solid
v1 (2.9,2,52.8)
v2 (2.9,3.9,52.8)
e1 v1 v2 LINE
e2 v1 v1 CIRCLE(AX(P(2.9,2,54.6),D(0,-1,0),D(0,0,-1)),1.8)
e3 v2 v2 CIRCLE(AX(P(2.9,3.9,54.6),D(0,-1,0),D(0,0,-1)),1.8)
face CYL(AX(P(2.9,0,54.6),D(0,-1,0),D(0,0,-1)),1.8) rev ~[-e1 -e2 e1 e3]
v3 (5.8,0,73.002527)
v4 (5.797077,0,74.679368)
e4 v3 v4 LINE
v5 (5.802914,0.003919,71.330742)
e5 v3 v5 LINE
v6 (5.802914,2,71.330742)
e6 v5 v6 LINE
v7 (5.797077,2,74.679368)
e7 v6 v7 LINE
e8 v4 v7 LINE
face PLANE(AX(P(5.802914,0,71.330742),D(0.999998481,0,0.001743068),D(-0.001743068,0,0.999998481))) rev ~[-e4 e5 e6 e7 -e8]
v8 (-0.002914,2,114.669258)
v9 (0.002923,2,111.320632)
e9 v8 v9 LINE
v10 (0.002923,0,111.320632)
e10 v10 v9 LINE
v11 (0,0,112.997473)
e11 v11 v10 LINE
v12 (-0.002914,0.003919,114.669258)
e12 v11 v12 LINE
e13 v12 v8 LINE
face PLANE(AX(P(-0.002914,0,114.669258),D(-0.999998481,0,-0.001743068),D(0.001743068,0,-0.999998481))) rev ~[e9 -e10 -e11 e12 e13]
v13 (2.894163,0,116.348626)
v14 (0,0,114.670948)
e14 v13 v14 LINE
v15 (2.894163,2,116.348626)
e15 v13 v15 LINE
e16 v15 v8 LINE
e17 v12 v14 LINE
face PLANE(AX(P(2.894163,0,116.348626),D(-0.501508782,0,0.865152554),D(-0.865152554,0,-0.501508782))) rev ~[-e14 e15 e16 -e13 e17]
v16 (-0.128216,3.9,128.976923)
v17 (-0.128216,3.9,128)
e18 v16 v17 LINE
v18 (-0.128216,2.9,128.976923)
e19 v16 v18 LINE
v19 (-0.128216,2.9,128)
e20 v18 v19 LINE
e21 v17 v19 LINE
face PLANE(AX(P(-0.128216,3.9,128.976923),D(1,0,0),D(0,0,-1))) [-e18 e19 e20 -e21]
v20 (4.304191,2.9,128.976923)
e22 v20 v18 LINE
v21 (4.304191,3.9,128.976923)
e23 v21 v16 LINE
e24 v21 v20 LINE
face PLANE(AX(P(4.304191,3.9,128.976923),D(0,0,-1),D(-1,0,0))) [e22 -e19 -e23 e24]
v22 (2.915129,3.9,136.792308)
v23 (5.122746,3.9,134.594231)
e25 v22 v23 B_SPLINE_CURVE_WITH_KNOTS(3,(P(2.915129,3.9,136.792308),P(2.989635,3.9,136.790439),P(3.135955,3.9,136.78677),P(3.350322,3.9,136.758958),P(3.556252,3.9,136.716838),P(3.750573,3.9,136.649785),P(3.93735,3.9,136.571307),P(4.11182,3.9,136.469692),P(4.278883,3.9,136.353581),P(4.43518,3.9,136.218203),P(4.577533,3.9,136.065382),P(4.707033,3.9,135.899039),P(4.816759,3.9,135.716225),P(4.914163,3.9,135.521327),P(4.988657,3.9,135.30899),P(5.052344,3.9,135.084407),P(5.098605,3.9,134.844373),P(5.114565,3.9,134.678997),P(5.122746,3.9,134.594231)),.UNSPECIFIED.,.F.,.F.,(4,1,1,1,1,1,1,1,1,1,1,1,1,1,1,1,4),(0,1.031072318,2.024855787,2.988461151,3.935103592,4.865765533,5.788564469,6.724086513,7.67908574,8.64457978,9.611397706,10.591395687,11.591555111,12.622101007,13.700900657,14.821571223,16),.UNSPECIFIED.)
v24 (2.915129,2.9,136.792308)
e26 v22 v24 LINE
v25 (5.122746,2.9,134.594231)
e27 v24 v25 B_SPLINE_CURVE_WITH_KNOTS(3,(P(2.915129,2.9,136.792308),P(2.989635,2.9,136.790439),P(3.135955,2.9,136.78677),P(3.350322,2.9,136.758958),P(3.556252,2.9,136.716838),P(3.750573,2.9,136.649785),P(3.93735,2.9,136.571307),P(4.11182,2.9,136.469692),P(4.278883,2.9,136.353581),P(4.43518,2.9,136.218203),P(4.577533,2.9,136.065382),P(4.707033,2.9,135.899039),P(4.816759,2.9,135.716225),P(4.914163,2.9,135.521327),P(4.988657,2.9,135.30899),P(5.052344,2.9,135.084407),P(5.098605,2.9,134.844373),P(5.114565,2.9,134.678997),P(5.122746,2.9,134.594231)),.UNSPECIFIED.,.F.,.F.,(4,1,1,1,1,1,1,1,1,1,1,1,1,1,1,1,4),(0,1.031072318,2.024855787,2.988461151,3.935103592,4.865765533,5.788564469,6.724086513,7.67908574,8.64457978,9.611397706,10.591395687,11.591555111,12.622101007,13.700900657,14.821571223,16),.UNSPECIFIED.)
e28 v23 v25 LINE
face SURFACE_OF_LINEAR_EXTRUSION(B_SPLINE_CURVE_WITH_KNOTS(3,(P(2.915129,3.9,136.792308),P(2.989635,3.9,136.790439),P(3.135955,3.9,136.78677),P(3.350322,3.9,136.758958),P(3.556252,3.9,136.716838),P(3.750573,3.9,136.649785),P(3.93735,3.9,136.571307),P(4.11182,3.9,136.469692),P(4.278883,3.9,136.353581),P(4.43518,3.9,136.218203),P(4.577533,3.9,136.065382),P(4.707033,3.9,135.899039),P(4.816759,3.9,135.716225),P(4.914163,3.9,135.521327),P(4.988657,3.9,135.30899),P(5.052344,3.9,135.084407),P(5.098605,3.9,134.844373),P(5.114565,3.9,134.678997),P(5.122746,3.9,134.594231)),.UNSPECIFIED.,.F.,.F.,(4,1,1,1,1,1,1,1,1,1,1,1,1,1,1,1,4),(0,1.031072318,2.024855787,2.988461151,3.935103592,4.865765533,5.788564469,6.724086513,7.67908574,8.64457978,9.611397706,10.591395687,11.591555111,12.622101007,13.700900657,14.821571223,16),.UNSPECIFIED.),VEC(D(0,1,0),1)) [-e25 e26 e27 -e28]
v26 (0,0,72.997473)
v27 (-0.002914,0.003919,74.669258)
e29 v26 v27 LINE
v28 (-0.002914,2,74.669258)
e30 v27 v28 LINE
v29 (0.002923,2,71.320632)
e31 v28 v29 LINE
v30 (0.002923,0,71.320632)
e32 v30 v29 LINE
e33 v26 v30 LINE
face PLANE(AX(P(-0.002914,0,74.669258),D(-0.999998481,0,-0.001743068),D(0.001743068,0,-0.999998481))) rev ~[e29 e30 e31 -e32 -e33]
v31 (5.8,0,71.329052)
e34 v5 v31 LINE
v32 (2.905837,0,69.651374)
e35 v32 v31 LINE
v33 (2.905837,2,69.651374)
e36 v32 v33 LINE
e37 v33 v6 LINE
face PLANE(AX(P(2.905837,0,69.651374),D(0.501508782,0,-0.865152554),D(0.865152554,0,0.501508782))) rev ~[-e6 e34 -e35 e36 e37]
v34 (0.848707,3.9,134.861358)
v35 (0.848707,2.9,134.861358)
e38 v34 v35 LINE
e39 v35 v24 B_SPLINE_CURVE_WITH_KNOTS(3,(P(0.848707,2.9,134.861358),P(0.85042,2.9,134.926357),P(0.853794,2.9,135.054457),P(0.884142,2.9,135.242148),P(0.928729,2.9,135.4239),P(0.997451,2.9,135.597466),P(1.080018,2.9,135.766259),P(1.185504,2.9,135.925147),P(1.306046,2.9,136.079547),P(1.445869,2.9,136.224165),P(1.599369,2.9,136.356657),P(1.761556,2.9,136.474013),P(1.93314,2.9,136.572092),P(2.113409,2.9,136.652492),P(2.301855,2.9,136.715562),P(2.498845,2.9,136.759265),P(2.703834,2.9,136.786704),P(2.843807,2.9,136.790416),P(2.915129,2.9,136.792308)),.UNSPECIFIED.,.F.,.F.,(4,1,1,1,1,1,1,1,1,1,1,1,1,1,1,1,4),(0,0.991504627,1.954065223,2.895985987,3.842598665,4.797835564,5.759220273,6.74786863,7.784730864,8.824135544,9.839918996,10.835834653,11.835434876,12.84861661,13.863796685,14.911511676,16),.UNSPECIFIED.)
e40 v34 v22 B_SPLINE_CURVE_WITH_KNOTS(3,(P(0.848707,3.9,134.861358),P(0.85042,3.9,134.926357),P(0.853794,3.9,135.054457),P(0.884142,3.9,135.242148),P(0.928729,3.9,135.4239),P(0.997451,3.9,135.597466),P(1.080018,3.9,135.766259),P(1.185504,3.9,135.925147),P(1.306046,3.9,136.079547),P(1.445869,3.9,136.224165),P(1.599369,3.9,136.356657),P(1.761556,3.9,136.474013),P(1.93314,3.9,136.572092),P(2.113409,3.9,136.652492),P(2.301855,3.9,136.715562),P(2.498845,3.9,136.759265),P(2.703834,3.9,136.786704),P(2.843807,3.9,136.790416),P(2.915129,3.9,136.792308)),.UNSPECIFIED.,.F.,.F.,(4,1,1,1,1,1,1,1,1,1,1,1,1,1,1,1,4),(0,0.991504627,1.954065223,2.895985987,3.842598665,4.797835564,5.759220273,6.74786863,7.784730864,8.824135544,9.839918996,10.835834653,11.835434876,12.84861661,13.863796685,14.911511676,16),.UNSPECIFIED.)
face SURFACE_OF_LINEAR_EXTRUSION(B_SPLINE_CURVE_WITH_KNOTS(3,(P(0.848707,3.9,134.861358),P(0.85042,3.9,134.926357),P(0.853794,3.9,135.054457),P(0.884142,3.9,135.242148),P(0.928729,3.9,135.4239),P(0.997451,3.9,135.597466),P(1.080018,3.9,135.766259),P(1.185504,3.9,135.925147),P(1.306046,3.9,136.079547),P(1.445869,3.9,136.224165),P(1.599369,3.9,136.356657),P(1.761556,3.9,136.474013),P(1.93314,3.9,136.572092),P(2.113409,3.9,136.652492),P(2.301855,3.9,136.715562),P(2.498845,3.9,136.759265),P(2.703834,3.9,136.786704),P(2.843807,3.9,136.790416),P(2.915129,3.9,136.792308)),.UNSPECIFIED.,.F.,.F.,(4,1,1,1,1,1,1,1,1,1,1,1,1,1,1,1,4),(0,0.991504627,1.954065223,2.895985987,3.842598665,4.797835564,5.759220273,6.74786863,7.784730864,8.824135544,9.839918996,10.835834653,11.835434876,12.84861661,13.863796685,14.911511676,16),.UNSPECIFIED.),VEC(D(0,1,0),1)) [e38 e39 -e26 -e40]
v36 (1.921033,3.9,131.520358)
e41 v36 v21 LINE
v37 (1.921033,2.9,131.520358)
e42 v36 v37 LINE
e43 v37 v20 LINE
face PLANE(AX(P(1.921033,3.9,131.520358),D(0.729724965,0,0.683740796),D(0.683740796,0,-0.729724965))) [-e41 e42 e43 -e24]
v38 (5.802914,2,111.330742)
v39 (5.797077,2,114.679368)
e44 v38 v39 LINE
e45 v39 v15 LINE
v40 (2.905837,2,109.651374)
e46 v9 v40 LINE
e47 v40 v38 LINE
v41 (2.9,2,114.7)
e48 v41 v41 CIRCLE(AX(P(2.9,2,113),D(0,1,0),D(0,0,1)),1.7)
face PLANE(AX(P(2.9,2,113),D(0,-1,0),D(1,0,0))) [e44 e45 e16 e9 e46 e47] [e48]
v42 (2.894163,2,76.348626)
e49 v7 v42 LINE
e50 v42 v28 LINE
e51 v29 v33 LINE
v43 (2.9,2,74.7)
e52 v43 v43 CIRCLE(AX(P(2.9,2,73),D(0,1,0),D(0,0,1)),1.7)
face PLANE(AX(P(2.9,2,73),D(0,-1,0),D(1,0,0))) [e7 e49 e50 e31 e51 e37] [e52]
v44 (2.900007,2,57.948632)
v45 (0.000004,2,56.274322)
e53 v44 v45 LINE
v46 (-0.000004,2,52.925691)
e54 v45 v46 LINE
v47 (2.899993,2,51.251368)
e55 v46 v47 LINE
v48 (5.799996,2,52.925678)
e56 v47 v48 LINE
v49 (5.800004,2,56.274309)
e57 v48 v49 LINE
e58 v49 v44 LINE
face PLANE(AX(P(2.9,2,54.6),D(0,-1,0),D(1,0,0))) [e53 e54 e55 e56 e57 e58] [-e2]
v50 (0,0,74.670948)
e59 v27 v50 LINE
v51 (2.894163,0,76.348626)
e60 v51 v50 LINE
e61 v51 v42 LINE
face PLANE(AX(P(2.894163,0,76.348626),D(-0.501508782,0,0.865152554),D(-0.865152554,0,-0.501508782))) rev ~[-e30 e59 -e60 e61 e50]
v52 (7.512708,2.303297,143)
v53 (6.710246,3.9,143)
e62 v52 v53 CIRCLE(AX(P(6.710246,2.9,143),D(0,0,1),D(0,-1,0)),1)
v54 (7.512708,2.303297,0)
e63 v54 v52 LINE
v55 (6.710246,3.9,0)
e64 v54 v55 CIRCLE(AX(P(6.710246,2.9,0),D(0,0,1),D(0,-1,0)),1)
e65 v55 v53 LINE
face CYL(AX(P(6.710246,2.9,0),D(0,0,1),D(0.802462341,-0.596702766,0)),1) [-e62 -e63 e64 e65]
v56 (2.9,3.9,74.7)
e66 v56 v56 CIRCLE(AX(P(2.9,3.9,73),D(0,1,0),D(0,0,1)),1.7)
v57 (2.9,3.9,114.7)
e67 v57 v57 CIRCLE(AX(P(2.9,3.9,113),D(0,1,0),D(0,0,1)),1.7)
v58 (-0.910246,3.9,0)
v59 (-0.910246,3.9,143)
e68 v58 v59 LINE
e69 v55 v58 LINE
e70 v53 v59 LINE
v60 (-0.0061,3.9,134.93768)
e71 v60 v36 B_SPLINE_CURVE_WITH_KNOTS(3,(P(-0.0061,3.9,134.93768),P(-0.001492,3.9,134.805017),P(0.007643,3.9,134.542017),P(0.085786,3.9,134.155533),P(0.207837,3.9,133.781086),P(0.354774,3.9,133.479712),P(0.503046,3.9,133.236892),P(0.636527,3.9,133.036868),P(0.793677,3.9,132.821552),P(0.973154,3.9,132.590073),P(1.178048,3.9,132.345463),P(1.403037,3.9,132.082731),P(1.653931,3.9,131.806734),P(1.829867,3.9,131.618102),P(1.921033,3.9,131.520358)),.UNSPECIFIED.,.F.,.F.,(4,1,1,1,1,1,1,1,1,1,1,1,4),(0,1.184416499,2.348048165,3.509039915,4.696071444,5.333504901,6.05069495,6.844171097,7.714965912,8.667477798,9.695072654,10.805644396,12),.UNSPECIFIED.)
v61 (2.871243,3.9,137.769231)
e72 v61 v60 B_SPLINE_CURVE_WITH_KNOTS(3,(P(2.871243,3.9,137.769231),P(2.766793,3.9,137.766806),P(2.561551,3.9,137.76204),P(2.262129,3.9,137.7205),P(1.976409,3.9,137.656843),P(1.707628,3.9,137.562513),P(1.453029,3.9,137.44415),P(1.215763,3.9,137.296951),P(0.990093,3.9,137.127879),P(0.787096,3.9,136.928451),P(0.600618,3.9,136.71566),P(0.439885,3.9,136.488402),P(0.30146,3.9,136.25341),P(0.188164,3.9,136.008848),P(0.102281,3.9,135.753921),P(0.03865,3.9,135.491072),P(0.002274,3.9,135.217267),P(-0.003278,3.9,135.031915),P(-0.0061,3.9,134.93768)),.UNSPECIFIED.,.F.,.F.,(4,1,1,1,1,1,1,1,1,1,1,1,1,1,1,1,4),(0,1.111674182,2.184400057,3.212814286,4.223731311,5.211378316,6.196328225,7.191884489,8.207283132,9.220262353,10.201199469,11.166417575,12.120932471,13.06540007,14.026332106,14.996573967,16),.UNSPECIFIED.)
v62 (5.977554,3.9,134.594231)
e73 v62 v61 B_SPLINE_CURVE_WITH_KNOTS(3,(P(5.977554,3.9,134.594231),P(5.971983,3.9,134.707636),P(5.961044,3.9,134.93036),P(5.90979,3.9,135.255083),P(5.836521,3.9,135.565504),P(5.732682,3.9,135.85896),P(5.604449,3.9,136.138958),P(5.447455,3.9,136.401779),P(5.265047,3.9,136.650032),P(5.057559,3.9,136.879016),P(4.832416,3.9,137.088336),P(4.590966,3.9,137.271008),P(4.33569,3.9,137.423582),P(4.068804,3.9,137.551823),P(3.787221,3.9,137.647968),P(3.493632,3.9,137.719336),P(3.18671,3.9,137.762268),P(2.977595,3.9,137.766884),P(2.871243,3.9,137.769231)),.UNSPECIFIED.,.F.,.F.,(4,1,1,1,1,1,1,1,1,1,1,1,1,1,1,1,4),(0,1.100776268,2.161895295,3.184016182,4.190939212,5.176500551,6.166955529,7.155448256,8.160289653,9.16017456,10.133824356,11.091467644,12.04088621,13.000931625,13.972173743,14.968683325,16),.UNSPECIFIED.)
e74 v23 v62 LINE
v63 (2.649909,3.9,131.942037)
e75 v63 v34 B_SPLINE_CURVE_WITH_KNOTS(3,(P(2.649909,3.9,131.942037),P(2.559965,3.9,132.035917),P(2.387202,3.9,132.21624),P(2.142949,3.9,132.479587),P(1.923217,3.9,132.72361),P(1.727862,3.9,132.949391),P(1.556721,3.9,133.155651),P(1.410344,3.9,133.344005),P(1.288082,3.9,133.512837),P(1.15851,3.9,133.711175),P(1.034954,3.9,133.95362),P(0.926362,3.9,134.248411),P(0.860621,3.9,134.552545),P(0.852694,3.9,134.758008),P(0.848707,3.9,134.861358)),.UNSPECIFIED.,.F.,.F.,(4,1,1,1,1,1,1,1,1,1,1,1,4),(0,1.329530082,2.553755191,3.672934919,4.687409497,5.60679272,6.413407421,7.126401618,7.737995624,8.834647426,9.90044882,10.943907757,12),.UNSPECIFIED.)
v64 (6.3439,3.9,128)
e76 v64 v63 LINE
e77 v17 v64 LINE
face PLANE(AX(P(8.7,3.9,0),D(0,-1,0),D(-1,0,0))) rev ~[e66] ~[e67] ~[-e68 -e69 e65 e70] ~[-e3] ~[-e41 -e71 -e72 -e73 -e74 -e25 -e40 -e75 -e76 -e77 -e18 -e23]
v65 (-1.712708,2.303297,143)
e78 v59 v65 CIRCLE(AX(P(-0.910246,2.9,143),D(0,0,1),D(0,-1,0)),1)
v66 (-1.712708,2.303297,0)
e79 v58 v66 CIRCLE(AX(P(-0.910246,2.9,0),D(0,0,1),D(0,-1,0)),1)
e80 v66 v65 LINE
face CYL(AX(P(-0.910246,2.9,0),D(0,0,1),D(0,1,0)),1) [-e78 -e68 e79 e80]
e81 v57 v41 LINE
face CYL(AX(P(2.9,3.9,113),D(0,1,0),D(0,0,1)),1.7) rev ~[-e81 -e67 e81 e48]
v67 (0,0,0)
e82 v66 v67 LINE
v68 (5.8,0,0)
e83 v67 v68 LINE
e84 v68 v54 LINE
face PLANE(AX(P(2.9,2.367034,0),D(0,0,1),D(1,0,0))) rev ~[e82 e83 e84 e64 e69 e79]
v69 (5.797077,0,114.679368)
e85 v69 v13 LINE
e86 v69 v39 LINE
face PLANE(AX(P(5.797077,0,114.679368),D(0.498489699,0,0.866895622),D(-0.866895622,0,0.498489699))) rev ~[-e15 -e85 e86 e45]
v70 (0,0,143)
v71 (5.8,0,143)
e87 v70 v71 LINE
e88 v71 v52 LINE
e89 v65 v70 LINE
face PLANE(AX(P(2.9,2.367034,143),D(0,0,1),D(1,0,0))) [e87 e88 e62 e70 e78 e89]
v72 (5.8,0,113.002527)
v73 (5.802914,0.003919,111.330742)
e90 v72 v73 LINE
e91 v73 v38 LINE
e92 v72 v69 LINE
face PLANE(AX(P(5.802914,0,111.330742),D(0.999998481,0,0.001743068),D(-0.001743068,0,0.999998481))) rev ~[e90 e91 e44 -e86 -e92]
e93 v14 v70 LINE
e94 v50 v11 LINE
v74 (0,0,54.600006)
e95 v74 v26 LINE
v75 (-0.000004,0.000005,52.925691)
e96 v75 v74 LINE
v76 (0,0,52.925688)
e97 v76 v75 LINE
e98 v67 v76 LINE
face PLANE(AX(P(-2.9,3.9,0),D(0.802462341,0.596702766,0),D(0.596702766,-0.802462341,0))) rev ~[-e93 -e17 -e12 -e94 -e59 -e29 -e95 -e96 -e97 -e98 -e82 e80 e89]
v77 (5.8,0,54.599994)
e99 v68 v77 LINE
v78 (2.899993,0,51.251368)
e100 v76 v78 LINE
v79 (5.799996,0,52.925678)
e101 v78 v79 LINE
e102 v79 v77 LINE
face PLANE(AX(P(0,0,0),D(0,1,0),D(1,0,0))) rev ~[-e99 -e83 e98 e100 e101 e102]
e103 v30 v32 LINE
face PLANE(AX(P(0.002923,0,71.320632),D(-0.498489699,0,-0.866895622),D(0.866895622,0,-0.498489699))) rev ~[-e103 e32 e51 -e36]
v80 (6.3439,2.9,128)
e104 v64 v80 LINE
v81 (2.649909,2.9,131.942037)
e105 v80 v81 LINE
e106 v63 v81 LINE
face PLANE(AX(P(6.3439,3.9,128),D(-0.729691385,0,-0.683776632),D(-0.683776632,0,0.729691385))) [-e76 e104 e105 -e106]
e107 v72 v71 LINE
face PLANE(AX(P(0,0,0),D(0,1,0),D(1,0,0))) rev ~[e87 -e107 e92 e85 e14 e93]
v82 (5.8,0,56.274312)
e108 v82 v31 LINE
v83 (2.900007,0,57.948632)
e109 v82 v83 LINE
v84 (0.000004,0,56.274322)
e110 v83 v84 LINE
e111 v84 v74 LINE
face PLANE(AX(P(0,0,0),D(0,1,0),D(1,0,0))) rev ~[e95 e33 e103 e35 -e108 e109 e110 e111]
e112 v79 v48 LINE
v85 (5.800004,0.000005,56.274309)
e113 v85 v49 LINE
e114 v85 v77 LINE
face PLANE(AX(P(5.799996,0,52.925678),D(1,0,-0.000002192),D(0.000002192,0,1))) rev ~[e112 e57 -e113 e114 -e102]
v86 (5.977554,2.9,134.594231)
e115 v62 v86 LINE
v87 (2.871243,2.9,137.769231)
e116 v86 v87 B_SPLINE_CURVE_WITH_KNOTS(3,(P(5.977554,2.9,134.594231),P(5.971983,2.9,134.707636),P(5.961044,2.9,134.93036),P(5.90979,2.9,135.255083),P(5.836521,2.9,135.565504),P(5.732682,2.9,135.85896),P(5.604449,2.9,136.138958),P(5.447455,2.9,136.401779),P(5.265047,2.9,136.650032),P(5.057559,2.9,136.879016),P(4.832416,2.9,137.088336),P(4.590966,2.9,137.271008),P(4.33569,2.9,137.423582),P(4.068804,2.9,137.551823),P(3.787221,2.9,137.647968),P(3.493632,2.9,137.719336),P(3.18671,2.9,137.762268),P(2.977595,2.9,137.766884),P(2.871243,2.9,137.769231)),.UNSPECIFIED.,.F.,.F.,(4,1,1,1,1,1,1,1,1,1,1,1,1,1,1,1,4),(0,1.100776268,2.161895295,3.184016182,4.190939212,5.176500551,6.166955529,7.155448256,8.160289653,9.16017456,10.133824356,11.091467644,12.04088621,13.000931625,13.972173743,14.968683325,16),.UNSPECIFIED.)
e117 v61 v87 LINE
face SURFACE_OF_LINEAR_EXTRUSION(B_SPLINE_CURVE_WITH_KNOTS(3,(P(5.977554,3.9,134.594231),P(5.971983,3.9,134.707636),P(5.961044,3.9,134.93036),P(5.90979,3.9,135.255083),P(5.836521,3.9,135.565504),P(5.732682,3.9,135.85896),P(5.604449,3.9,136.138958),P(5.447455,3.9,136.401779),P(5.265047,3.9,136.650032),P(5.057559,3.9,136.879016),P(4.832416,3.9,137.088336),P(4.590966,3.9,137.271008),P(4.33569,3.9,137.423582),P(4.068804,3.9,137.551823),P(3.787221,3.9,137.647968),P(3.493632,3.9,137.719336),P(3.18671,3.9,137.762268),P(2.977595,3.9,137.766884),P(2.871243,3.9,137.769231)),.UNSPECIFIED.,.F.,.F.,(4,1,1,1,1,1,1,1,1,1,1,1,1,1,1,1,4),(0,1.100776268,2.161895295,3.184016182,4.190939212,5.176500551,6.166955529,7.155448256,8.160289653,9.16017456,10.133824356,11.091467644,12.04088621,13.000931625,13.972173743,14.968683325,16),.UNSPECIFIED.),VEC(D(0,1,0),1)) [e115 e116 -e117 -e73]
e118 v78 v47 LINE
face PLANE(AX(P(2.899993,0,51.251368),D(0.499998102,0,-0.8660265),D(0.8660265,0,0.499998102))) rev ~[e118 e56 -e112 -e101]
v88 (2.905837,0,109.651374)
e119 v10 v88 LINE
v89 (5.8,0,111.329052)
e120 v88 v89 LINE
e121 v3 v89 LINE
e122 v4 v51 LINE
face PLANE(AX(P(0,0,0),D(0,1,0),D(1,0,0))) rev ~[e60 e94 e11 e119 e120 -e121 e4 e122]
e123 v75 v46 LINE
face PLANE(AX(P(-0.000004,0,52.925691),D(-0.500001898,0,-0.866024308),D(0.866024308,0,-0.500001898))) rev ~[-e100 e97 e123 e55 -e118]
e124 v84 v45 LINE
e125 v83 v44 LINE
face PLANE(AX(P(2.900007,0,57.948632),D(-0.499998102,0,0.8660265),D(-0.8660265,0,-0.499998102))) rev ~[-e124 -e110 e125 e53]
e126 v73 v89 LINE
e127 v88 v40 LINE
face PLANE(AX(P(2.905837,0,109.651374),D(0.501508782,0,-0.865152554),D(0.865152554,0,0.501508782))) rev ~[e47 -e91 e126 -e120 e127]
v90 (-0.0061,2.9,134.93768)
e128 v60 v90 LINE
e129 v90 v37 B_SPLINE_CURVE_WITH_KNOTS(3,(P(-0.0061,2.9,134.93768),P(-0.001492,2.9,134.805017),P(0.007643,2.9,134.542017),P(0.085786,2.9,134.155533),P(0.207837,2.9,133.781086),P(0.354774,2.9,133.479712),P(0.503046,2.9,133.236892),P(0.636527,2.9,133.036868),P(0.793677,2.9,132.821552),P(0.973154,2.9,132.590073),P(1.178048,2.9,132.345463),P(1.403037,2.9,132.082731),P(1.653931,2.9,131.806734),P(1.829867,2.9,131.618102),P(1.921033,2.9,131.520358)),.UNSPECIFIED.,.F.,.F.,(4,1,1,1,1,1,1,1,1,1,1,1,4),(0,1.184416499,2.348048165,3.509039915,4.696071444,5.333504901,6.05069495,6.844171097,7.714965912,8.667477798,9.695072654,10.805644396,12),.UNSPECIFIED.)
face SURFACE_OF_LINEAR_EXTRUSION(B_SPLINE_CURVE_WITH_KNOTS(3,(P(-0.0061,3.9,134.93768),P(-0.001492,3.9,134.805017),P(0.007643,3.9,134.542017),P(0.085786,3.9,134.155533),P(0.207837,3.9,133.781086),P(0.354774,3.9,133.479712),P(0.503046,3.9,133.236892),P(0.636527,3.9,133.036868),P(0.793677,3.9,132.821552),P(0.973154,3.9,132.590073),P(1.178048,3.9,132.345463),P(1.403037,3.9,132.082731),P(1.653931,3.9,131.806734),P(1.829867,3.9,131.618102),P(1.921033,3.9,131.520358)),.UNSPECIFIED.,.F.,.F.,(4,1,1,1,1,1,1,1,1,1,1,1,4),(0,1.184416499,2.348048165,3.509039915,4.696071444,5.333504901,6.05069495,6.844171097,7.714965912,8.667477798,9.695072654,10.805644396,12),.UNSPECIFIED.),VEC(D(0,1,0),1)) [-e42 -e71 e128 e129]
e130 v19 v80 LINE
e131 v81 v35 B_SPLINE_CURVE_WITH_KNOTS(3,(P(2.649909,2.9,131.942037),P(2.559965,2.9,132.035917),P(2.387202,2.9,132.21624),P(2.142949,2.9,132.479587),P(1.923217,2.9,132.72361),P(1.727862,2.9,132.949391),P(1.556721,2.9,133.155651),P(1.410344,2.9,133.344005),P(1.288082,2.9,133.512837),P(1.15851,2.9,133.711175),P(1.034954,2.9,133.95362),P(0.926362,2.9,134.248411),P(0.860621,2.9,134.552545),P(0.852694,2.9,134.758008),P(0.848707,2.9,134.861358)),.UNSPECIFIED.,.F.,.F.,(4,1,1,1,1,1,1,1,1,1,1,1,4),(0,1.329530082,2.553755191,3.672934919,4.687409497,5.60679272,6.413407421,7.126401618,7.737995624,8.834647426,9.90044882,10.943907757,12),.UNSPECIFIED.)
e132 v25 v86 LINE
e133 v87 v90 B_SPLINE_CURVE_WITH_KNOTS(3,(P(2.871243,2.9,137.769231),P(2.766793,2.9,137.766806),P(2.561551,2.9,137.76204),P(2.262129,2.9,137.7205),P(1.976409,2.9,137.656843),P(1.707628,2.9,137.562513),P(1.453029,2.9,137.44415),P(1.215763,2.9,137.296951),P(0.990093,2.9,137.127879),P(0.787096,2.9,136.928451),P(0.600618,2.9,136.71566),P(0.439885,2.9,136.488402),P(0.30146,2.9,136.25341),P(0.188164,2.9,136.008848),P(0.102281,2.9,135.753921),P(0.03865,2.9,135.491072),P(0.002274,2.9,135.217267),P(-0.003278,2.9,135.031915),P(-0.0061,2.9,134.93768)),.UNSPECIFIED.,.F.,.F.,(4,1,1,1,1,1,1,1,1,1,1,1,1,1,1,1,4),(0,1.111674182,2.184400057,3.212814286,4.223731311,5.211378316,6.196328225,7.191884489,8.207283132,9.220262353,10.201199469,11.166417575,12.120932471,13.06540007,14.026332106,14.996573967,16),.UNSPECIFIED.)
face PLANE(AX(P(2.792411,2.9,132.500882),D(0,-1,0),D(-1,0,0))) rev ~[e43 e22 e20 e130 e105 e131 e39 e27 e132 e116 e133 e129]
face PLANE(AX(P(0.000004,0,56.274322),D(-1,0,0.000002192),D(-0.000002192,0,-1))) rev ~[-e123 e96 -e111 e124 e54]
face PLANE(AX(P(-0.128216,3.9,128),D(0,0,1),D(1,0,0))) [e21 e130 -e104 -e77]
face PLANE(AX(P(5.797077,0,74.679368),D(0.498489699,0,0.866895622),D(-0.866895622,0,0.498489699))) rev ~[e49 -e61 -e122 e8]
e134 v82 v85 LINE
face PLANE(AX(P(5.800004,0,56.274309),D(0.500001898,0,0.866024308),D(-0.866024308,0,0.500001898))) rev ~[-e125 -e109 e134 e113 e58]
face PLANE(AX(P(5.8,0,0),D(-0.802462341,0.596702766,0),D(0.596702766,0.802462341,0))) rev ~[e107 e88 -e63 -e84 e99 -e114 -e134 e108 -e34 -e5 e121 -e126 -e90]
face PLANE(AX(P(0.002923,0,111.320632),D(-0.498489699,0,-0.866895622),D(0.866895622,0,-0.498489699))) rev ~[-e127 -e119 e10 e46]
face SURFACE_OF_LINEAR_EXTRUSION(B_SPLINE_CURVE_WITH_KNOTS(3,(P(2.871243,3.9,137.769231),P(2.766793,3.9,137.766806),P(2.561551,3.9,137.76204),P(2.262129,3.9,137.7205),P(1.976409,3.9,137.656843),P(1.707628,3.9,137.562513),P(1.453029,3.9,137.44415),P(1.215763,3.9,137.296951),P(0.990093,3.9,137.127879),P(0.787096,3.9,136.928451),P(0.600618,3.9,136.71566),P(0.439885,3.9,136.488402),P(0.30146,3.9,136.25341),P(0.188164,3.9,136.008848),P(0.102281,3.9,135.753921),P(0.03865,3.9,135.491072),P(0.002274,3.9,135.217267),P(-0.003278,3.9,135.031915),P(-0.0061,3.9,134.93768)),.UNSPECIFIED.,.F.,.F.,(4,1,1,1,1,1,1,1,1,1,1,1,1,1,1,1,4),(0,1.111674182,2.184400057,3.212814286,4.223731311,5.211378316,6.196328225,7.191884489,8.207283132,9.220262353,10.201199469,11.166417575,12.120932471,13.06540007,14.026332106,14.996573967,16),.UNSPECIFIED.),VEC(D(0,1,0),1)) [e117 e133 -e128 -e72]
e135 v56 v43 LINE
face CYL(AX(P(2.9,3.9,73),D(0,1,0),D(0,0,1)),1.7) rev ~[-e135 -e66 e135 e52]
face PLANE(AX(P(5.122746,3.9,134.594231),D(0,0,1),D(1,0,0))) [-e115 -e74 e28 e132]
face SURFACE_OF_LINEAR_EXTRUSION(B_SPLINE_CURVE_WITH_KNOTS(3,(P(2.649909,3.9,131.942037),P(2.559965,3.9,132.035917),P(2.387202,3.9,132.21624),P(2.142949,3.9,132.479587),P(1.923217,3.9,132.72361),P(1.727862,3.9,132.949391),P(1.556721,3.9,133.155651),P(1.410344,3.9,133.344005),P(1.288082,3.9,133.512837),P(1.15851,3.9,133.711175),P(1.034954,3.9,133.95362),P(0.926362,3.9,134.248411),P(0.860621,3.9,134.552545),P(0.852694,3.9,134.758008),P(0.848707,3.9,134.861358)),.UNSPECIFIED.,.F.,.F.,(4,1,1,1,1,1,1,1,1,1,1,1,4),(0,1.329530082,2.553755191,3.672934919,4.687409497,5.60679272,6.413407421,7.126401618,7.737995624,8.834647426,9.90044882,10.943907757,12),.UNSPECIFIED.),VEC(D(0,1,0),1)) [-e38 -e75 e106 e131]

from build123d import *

# Parameters (mm, degrees)
BOSS_EXTRUDE1_DEPTH = 143
FILLET1_R           = 1
SKETCH2_R           = 1.8
CUT_EXTRUDE1_DEPTH  = 200
CUT_EXTRUDE2_DEPTH  = 2
CUT_EXTRUDE3_DEPTH  = 1
SKETCH5_R           = 1.7
CUT_EXTRUDE4_DEPTH  = 10
LPATTERN1_COUNT     = 2
LPATTERN1_PITCH     = 40
CUT_EXTRUDE5_DEPTH  = 2


with BuildPart() as part:
    # Sketch1 → Boss-Extrude1 (new body)
    with BuildSketch(Plane.XY):
        Polygon((0, 0), (5.8, 0), (8.7, 3.9), (-2.9, 3.9), align=None)
    extrude(amount=BOSS_EXTRUDE1_DEPTH)

    # Fillet1
    fillet1_edges = [part.edges().sort_by_distance(p)[0] for p in [
        (-2.9, 3.9, 71.5),
        (8.7, 3.9, 71.5),
    ]]
    fillet(fillet1_edges, radius=FILLET1_R)

    # Sketch2 → Cut-Extrude1 (cut)
    with BuildSketch(Plane.XZ):
        with Locations(Location((2.9, 54.6, 0), (0, 0, 270))):
            Circle(SKETCH2_R)
    extrude(amount=-CUT_EXTRUDE1_DEPTH, mode=Mode.SUBTRACT)

    # Sketch3 → Cut-Extrude2 (cut)
    with BuildSketch(Plane.XZ):
        Polygon((2.90000734, 57.948631561), (3.67e-06, 56.274322137), (-3.67e-06, 52.925690576), (2.89999266, 51.251368439), (5.79999633, 52.925677863), (5.80000367, 56.274309424), align=None)
    extrude(amount=-CUT_EXTRUDE2_DEPTH, mode=Mode.SUBTRACT)

    # Sketch4 → Cut-Extrude3 (cut)
    with BuildSketch(Plane(origin=(0, 3.9, 0), x_dir=(1, 0, 0), z_dir=(0, 1, 0))):
        with BuildLine():
            Line((5.122745858, -134.594230769), (5.977553551, -134.594230769))
            add(Edge.make_bspline(
                [(5.977553551, -134.594230769), (5.971983318, -134.707635673), (5.96104353, -134.930359885), (5.909790268, -135.255083464), (5.836521158, -135.565504079), (5.732681737, -135.858960447), (5.604449126, -136.138958148), (5.447455301, -136.401779138), (5.265047116, -136.650031883), (5.057559206, -136.879016136), (4.832415701, -137.088336373), (4.59096556, -137.271007952), (4.335690435, -137.423581719), (4.068804473, -137.551823488), (3.787221058, -137.647967628), (3.493631813, -137.719336337), (3.186709745, -137.762268246), (2.977595349, -137.766883522), (2.871243455, -137.769230769)],
                knots=[0, 0, 0, 0, 1.100776268, 2.161895295, 3.184016182, 4.190939212, 5.176500551, 6.166955529, 7.155448256, 8.160289653, 9.16017456, 10.133824356, 11.091467644, 12.04088621, 13.000931625, 13.972173743, 14.968683325, 16, 16, 16, 16], degree=3))
            add(Edge.make_bspline(
                [(2.871243455, -137.769230769), (2.766792917, -137.766805526), (2.561551342, -137.76204001), (2.26212941, -137.720499656), (1.976409076, -137.656842765), (1.707628406, -137.56251328), (1.453028956, -137.444150411), (1.215763088, -137.296950676), (0.990093468, -137.127879071), (0.787095567, -136.928450822), (0.600617505, -136.715660377), (0.43988469, -136.488401971), (0.301460326, -136.253409781), (0.188164307, -136.008848177), (0.102280887, -135.753920747), (0.038649503, -135.491071568), (0.002274366, -135.217267183), (-0.003277626, -135.031914725), (-0.006100295, -134.937680288)],
                knots=[0, 0, 0, 0, 1.111674182, 2.184400057, 3.212814286, 4.223731311, 5.211378316, 6.196328225, 7.191884489, 8.207283132, 9.220262353, 10.201199469, 11.166417575, 12.120932471, 13.06540007, 14.026332106, 14.996573967, 16, 16, 16, 16], degree=3))
            add(Edge.make_bspline(
                [(-0.006100295, -134.937680288), (-0.001492129, -134.805016596), (0.007643337, -134.54201727), (0.0857864, -134.155533128), (0.207837017, -133.781085653), (0.354773944, -133.479711723), (0.503045957, -133.236892134), (0.63652693, -133.036867771), (0.79367716, -132.821551985), (0.973154024, -132.590073288), (1.178048369, -132.345463088), (1.403037067, -132.082730681), (1.653930529, -131.806734169), (1.829867162, -131.618102024), (1.921033118, -131.520357572)],
                knots=[0, 0, 0, 0, 1.184416499, 2.348048165, 3.509039915, 4.696071444, 5.333504901, 6.05069495, 6.844171097, 7.714965912, 8.667477798, 9.695072654, 10.805644396, 12, 12, 12, 12], degree=3))
            Line((1.921033118, -131.520357572), (4.304191171, -128.976923077))
            Line((4.304191171, -128.976923077), (-0.12821568, -128.976923077))
            Line((-0.12821568, -128.976923077), (-0.12821568, -128))
            Line((-0.12821568, -128), (6.343899705, -128))
            Line((6.343899705, -128), (2.64990932, -131.94203726))
            add(Edge.make_bspline(
                [(2.64990932, -131.94203726), (2.559965489, -132.035916816), (2.387201798, -132.216240231), (2.142948702, -132.479586657), (1.923217267, -132.723609906), (1.727861736, -132.949391305), (1.55672137, -133.155650884), (1.410343741, -133.344005051), (1.288081888, -133.512837404), (1.158509801, -133.711174594), (1.034954218, -133.953619944), (0.926361503, -134.248410515), (0.860620951, -134.552545379), (0.85269448, -134.758008475), (0.848707397, -134.861358173)],
                knots=[0, 0, 0, 0, 1.329530082, 2.553755191, 3.672934919, 4.687409497, 5.60679272, 6.413407421, 7.126401618, 7.737995624, 8.834647426, 9.90044882, 10.943907757, 12, 12, 12, 12], degree=3))
            add(Edge.make_bspline(
                [(0.848707397, -134.861358173), (0.850419752, -134.926356875), (0.853794476, -135.054456835), (0.884142204, -135.242148032), (0.928729039, -135.423900083), (0.997451125, -135.597465755), (1.080018182, -135.766258747), (1.185503685, -135.925147228), (1.306045915, -136.079547323), (1.445868989, -136.224164782), (1.599368744, -136.356656831), (1.761555505, -136.474013435), (1.933140485, -136.572091957), (2.113408614, -136.652492299), (2.301855113, -136.715562491), (2.498845054, -136.759264755), (2.703833976, -136.786703519), (2.843806562, -136.790416014), (2.915128671, -136.792307692)],
                knots=[0, 0, 0, 0, 0.991504627, 1.954065223, 2.895985987, 3.842598665, 4.797835564, 5.759220273, 6.74786863, 7.784730864, 8.824135544, 9.839918996, 10.835834653, 11.835434876, 12.84861661, 13.863796685, 14.911511676, 16, 16, 16, 16], degree=3))
            add(Edge.make_bspline(
                [(2.915128671, -136.792307692), (2.989635464, -136.790439156), (3.135954505, -136.786769659), (3.350321609, -136.758957907), (3.556252164, -136.716838427), (3.750572839, -136.649784559), (3.937350419, -136.571306767), (4.111820115, -136.469691831), (4.278882998, -136.353581052), (4.435180219, -136.218203259), (4.577533213, -136.065382121), (4.707033005, -135.899039013), (4.816759463, -135.716225009), (4.914162533, -135.521326783), (4.988656651, -135.308989677), (5.052343784, -135.084406654), (5.098605194, -134.844373441), (5.11456532, -134.678996532), (5.122745858, -134.594230769)],
                knots=[0, 0, 0, 0, 1.031072318, 2.024855787, 2.988461151, 3.935103592, 4.865765533, 5.788564469, 6.724086513, 7.67908574, 8.64457978, 9.611397706, 10.591395687, 11.591555111, 12.622101007, 13.700900657, 14.821571223, 16, 16, 16, 16], degree=3))
        make_face()
    extrude(amount=-CUT_EXTRUDE3_DEPTH, mode=Mode.SUBTRACT)

    # Sketch5 → Cut-Extrude4 (cut)
    with BuildSketch(Plane(origin=(0, 3.9, 0), x_dir=(1, 0, 0), z_dir=(0, 1, 0))):
        with Locations(Location((2.9, -113, 0), (0, 0, 270))):
            Circle(SKETCH5_R)
    cut_extrude4 = extrude(amount=-CUT_EXTRUDE4_DEPTH, mode=Mode.SUBTRACT)

    # LPattern1: Cut-Extrude4 ×2
    with Locations(*[(0, 0, -i * LPATTERN1_PITCH) for i in range(1, LPATTERN1_COUNT)]):
        add(cut_extrude4, mode=Mode.SUBTRACT)

    # Sketch6 → Cut-Extrude5 (cut)
    with BuildSketch(Plane.XZ):
        Polygon((5.797077148, 114.679368135), (2.894163107, 116.348626474), (-0.002914041, 114.669258339), (0.002922852, 111.320631865), (2.905836893, 109.651373526), (5.802914041, 111.330741661), align=None)
        Polygon((5.797077148, 74.679368135), (2.894163107, 76.348626474), (-0.002914041, 74.669258339), (0.002922852, 71.320631865), (2.905836893, 69.651373526), (5.802914041, 71.330741661), align=None)
    extrude(amount=-CUT_EXTRUDE5_DEPTH, mode=Mode.SUBTRACT)


solid = part.part
